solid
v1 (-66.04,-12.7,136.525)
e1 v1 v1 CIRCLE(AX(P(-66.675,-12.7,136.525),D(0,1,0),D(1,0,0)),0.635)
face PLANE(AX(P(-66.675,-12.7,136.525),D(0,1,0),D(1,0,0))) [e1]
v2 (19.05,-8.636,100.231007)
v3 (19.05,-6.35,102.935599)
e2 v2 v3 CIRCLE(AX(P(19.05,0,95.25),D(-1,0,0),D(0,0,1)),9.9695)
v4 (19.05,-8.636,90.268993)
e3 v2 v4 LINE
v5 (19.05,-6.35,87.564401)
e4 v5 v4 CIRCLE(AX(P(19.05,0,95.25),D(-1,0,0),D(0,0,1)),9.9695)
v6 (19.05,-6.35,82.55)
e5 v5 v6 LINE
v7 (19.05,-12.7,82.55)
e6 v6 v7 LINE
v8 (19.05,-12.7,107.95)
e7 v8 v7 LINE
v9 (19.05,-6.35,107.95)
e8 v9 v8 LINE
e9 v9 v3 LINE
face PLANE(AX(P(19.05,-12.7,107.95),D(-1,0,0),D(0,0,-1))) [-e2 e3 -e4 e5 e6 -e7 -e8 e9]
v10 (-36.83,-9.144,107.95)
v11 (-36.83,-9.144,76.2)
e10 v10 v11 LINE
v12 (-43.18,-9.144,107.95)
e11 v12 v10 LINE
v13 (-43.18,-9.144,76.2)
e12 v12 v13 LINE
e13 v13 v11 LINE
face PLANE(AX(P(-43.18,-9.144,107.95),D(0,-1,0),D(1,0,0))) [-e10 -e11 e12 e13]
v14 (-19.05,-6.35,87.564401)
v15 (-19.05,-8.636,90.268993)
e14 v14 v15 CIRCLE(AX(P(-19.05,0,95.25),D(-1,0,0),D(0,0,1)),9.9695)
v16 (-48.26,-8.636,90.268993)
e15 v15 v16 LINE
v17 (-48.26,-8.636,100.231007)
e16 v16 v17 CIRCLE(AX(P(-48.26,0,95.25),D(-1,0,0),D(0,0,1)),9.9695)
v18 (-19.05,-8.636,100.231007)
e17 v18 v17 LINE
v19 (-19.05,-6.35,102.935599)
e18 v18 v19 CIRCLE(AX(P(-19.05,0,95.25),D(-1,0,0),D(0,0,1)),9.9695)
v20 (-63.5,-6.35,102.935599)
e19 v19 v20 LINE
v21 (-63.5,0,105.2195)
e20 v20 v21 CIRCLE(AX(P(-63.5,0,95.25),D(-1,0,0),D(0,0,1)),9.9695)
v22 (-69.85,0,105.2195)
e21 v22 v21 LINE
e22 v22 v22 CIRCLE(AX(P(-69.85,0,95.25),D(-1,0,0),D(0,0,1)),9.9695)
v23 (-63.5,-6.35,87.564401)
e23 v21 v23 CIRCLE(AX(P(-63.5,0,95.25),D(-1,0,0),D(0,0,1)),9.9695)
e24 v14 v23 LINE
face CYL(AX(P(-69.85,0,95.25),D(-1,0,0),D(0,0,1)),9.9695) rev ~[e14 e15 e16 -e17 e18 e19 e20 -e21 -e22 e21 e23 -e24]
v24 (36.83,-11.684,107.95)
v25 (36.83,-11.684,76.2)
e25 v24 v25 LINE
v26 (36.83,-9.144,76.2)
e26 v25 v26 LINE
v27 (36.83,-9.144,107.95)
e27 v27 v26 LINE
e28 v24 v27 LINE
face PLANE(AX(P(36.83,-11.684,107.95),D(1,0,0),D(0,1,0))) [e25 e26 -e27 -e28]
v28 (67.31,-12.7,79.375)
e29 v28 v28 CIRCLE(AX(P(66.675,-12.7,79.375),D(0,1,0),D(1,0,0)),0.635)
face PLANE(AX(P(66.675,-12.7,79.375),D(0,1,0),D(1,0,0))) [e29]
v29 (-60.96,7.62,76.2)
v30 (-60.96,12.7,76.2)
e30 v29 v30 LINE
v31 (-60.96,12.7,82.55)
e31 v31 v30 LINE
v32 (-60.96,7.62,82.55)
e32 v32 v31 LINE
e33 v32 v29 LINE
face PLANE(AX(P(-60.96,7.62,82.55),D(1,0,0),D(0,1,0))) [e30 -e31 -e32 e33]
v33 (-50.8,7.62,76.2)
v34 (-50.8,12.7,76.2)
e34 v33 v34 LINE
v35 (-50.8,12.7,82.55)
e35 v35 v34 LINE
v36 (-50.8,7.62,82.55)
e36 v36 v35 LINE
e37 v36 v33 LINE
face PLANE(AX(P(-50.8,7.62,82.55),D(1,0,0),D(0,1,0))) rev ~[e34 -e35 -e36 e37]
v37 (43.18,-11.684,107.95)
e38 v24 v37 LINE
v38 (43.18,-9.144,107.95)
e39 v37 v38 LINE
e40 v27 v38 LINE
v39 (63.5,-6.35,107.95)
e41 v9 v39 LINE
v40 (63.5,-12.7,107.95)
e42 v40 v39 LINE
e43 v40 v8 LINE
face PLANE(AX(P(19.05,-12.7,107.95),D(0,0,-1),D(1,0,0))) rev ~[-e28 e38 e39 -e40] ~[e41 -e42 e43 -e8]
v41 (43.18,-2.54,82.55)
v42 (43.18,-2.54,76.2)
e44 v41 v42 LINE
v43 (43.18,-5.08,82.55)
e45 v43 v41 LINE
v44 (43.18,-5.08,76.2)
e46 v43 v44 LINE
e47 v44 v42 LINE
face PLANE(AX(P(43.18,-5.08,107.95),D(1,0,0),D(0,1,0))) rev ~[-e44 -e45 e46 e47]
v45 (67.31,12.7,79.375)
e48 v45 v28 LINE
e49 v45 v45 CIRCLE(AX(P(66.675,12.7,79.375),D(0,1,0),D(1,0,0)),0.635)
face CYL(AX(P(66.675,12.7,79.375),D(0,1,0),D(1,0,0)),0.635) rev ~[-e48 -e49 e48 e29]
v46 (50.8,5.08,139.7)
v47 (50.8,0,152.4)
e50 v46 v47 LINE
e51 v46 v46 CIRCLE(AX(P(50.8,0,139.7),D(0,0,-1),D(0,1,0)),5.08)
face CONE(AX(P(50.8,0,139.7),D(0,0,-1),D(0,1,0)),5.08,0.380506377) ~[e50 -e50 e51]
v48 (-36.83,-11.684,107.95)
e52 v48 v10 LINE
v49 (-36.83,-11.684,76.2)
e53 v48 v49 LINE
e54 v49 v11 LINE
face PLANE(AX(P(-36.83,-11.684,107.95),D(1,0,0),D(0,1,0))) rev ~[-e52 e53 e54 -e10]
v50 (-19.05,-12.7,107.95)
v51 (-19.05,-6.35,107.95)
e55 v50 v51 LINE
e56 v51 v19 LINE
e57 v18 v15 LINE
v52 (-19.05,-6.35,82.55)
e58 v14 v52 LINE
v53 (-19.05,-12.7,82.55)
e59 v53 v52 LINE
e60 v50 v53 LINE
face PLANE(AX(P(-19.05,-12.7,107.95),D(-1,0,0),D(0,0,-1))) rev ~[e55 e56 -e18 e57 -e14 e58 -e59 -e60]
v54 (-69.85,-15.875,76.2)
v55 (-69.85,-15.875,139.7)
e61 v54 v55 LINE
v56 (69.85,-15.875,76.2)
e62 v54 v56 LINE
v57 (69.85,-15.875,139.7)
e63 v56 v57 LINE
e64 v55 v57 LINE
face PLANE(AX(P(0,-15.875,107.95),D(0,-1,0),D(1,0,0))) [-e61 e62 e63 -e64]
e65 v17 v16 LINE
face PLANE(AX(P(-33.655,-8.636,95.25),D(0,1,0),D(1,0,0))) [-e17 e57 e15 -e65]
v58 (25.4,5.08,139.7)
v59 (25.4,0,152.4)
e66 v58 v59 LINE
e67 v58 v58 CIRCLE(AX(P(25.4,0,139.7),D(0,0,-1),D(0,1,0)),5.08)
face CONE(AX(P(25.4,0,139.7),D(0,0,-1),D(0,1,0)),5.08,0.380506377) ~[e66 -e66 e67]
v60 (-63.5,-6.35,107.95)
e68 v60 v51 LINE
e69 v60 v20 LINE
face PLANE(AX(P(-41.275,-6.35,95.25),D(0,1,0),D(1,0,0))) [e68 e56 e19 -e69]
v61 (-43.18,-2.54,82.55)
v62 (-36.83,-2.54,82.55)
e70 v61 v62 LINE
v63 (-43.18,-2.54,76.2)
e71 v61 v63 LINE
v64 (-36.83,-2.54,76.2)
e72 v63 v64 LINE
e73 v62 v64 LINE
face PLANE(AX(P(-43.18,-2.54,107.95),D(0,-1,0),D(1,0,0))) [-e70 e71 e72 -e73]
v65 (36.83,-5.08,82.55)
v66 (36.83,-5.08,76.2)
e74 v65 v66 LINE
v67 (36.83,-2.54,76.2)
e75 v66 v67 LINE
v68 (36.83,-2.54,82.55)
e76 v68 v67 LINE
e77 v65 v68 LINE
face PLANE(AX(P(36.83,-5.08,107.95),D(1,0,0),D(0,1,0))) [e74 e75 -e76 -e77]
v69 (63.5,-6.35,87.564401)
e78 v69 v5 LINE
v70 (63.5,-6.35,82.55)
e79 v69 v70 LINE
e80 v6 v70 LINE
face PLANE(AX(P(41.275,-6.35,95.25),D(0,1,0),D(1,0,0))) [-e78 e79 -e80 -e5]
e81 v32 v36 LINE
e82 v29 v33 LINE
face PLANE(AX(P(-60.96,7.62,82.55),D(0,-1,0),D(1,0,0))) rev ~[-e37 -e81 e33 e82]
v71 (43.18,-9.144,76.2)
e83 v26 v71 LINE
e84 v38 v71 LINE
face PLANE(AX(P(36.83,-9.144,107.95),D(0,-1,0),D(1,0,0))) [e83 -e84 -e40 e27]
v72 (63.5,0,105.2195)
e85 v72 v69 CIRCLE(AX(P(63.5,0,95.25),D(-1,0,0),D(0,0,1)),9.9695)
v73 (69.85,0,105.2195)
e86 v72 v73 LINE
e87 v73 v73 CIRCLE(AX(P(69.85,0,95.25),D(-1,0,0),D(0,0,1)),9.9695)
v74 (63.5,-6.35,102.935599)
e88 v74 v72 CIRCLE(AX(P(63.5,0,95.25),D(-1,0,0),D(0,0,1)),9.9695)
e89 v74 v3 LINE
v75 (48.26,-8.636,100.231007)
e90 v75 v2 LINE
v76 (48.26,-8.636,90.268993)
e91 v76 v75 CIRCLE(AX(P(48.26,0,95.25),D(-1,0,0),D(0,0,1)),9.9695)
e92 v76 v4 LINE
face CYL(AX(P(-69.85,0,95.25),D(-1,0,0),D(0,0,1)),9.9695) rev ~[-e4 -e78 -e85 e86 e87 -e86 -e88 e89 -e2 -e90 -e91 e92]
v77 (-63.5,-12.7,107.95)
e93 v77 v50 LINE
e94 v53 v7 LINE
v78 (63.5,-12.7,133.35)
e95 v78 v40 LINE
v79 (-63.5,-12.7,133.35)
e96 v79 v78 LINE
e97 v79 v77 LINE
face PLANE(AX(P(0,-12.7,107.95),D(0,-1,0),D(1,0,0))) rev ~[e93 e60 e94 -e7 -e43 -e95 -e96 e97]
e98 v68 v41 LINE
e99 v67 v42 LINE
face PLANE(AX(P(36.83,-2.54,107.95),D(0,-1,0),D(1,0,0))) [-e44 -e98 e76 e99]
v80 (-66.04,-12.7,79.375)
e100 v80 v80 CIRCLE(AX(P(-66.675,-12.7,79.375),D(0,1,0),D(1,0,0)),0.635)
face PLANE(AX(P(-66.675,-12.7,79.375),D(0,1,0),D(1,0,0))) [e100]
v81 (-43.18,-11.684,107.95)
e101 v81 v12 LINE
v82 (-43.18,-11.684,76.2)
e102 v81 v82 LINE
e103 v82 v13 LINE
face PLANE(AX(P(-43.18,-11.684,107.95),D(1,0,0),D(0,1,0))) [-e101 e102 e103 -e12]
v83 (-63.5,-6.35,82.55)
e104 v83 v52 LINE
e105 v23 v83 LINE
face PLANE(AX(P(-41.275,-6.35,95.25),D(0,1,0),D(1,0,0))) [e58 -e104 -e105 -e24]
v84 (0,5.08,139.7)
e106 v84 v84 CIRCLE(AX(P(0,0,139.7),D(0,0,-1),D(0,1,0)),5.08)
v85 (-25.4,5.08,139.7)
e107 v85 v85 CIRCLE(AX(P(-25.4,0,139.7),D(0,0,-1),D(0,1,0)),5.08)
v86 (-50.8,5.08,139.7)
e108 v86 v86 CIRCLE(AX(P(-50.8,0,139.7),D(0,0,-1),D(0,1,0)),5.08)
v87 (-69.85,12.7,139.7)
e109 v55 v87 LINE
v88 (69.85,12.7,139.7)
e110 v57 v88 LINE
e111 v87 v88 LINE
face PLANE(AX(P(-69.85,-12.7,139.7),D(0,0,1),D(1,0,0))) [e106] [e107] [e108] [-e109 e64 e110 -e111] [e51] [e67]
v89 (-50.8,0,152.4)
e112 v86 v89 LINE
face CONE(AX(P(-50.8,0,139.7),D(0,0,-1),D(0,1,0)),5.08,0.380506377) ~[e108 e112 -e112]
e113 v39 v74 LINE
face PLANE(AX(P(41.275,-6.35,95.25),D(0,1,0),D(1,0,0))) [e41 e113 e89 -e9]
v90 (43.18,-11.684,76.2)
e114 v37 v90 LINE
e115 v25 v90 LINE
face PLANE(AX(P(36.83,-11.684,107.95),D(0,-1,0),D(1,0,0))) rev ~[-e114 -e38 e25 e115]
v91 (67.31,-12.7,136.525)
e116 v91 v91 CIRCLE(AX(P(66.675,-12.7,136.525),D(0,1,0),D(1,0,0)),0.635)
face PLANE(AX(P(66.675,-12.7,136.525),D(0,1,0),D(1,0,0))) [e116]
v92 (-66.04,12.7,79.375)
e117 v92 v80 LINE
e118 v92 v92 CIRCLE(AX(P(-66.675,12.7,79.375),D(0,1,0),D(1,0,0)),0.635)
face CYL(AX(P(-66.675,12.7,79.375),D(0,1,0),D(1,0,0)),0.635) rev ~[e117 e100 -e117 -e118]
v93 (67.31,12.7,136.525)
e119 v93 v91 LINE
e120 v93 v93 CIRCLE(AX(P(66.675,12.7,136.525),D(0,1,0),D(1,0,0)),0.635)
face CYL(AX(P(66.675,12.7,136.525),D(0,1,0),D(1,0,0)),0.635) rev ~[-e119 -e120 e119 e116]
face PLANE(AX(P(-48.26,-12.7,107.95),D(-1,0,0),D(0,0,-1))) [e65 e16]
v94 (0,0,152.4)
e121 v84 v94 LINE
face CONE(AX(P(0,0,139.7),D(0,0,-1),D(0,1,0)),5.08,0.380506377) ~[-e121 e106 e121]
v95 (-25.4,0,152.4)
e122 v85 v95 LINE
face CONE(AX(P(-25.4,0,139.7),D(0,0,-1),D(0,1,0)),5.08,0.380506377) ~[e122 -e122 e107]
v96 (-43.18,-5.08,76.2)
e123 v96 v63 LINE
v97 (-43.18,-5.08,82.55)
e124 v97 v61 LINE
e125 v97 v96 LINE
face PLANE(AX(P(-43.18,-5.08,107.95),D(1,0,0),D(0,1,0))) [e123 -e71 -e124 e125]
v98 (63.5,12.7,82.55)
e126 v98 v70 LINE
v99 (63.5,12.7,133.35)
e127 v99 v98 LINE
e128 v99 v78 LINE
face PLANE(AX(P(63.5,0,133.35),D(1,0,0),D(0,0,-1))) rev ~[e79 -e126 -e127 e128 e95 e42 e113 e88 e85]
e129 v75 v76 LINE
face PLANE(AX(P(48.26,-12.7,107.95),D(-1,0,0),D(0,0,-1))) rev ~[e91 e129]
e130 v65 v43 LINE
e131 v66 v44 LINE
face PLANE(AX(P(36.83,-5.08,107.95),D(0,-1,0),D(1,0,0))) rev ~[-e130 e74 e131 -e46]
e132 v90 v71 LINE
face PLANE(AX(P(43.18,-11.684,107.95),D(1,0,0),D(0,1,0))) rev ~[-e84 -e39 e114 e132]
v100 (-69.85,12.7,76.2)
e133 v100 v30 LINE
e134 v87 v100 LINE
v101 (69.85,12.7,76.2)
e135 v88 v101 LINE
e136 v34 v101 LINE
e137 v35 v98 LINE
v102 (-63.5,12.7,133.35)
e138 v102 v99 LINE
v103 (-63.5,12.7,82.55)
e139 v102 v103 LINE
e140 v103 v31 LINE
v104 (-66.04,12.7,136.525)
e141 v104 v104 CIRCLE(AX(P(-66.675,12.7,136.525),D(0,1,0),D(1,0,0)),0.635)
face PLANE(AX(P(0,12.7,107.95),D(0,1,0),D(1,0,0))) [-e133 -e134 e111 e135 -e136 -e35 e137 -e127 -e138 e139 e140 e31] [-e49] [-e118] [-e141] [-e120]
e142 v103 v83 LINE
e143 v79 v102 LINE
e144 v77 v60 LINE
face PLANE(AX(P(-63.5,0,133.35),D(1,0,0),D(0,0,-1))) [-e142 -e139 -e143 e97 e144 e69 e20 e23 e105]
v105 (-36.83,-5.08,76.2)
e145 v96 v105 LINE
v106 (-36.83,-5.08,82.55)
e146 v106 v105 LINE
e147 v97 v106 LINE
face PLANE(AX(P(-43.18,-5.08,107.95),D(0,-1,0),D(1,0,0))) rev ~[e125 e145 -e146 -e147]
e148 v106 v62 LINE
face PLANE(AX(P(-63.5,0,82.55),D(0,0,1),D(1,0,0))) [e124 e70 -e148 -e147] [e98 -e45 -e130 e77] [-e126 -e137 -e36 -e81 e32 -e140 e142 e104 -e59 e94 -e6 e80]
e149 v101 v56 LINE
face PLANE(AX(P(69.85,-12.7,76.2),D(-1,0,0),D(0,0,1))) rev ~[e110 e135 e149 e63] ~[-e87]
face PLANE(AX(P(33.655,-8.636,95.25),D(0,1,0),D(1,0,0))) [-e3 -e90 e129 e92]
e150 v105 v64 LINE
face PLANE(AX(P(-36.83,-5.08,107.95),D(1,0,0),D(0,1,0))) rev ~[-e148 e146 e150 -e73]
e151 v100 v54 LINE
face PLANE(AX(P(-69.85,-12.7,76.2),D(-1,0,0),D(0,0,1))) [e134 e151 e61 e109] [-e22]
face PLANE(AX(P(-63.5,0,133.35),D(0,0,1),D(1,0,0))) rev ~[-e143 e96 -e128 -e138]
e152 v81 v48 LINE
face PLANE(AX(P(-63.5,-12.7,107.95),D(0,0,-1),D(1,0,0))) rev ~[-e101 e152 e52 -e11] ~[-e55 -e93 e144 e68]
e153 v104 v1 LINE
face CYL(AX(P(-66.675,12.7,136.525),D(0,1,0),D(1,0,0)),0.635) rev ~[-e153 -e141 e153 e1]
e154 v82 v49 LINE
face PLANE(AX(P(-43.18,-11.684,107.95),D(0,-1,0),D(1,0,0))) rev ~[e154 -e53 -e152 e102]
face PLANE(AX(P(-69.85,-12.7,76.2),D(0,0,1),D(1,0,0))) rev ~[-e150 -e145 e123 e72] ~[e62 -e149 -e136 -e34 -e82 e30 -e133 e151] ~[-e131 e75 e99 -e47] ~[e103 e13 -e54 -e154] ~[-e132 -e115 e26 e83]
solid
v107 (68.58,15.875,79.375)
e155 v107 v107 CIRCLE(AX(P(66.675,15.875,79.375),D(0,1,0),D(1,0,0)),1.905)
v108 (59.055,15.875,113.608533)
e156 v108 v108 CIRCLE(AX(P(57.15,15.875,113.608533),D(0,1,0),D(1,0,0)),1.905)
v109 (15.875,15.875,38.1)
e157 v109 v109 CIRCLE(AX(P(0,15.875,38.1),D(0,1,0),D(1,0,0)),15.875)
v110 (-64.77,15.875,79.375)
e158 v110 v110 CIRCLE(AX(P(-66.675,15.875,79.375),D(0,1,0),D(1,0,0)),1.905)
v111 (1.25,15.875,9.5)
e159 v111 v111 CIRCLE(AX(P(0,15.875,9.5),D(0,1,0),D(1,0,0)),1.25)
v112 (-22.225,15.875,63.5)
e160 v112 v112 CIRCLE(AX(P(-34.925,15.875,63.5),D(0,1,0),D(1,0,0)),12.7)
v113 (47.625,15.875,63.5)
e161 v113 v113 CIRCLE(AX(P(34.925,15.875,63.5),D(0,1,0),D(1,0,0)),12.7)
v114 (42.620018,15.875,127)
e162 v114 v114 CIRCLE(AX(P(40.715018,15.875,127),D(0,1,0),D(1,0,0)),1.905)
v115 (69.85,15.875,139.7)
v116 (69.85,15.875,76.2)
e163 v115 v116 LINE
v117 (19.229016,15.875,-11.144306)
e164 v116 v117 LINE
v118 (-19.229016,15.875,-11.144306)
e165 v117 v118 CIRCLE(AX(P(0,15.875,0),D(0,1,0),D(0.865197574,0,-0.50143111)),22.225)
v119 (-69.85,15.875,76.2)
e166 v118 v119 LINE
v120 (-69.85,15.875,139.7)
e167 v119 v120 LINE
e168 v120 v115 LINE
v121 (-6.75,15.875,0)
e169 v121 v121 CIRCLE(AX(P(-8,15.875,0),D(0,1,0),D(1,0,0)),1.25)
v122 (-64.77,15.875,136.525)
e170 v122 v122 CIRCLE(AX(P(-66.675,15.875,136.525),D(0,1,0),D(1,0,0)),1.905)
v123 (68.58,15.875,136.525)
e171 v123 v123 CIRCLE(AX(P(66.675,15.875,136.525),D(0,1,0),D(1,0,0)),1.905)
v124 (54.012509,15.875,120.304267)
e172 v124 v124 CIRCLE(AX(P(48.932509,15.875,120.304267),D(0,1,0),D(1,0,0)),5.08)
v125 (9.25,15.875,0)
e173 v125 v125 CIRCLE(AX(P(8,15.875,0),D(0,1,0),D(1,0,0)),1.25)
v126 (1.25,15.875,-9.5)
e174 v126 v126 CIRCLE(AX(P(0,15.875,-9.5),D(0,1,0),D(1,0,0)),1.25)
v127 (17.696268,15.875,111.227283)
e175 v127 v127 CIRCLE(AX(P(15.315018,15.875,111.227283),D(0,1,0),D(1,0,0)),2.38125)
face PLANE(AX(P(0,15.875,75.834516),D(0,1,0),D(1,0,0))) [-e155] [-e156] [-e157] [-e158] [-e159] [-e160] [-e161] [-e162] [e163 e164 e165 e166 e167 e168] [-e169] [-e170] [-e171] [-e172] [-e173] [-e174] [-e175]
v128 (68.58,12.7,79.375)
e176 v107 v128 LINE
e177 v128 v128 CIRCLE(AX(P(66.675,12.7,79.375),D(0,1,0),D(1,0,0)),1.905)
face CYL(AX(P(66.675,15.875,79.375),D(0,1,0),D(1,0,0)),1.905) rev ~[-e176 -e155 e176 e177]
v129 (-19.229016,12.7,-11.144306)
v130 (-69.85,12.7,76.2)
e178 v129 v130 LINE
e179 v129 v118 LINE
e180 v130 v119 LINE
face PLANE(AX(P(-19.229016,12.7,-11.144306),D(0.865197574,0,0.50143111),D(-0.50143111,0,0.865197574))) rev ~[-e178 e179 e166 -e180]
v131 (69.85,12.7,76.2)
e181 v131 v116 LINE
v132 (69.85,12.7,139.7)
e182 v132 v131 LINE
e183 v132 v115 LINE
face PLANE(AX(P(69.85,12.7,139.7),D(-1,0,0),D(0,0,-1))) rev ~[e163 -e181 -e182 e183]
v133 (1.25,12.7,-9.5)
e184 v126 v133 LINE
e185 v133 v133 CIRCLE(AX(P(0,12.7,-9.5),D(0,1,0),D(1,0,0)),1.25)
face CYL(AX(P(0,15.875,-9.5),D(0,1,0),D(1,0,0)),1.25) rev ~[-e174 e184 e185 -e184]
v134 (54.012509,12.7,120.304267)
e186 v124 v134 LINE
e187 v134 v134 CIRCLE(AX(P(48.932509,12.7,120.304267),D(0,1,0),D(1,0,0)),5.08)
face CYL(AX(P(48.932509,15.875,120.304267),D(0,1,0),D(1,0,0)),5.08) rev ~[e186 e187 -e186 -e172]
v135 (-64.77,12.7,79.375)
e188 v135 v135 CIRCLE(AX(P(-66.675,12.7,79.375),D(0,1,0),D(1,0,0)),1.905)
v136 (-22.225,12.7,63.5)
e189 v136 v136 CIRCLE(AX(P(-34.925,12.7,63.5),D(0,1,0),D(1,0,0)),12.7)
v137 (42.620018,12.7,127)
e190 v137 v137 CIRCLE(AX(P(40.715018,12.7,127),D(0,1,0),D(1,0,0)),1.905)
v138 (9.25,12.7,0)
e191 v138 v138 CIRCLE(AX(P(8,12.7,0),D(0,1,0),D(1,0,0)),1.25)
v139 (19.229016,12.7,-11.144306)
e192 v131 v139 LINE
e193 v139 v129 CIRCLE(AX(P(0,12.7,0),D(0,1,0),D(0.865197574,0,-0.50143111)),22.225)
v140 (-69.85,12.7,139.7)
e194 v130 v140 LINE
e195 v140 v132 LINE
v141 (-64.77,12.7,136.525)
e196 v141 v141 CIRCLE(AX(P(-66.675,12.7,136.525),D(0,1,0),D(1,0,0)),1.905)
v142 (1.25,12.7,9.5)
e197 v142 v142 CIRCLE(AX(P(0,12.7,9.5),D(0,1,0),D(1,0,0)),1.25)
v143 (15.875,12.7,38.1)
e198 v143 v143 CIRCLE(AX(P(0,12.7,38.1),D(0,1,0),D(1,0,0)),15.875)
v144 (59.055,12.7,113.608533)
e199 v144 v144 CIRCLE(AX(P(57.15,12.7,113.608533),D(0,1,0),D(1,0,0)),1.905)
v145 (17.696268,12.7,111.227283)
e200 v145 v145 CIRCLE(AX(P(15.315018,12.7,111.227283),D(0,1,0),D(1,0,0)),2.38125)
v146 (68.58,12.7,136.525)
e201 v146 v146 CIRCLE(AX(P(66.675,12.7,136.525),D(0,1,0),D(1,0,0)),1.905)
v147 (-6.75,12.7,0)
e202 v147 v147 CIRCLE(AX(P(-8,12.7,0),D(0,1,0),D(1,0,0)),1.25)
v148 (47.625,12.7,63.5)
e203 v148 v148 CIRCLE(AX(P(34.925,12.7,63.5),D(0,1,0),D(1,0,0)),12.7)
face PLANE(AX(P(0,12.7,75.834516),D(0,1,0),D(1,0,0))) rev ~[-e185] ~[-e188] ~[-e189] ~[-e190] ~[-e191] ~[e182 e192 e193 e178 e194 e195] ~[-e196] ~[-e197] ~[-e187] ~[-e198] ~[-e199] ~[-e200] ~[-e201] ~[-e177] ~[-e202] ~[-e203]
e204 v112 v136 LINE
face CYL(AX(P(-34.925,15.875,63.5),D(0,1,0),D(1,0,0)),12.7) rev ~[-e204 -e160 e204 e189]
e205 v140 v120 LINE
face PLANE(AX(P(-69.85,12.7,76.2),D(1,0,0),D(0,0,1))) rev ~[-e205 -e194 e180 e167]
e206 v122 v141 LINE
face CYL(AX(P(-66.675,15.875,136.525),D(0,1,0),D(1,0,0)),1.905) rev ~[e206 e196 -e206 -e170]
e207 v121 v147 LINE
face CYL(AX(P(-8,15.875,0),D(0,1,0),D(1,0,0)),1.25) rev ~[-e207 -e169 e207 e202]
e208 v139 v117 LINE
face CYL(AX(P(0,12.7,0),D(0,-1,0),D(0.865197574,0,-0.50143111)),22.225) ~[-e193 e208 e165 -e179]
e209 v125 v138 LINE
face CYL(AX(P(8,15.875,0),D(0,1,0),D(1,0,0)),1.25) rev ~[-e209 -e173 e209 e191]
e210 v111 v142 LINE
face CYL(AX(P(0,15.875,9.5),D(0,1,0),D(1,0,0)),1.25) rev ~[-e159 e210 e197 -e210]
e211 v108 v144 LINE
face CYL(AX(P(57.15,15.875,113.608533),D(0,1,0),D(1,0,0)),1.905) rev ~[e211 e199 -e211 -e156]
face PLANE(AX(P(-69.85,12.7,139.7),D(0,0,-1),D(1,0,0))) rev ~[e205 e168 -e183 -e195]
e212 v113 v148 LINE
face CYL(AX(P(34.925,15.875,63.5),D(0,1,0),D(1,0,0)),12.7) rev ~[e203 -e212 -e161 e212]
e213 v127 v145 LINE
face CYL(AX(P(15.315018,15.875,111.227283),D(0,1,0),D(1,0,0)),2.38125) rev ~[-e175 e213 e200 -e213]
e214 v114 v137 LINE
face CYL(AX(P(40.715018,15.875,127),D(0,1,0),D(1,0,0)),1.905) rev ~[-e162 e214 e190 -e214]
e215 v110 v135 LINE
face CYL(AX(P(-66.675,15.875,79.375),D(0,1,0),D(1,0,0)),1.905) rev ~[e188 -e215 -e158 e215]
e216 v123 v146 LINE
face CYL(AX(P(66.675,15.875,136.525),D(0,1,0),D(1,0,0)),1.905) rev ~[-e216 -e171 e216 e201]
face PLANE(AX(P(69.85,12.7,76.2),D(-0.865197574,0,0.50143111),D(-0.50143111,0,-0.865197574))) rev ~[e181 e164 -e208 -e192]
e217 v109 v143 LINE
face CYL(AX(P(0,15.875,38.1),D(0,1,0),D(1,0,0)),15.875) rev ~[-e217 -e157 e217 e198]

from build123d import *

# Parameters (mm, degrees)
SKETCH3_W                = 139.7
SKETCH3_H                = 63.5
SKETCH3_W_2              = 127
SKETCH3_H_2              = 50.8
BOSS_EXTRUDE1_DEPTH      = 12.7
BOSS_EXTRUDE1_DEPTH_BACK = 12.7
SKETCH4_W                = 139.7
SKETCH4_H                = 63.5
BOSS_EXTRUDE2_DEPTH      = 3.175
BOSS_EXTRUDE3_DEPTH      = 3.175
SKETCH7_W                = 44.45
SKETCH7_H                = 25.4
BOSS_EXTRUDE4_DEPTH      = 6.35
SKETCH6_R                = 9.9695
CUT_EXTRUDE1_DEPTH       = 140.7
LPATTERN1_COUNT          = 3
LPATTERN1_PITCH          = 25.4
LPATTERN1_COL_COUNT      = 3
LPATTERN1_COL_PITCH      = 25.4
SKETCH13_W               = 29.21
SKETCH13_H               = 25.4
BOSS_EXTRUDE5_DEPTH      = 4.064
SKETCH14_W               = 6.35
SKETCH14_H               = 2.54
CUT_EXTRUDE2_DEPTH       = 31.75
SKETCH18_W               = 10.16
SKETCH18_H               = 5.08
CUT_EXTRUDE3_DEPTH       = 6.35
SKETCH19_R               = 0.635
CUT_EXTRUDE4_DEPTH       = 25.4
SKETCH20_R               = 1.905
CUT_EXTRUDE7_DEPTH       = 3.175
SKETCH23_R               = 5.08
SKETCH23_R_2             = 1.905
SKETCH23_R_3             = 2.38125
CUT_EXTRUDE8_DEPTH       = 3.175
SKETCH24_R               = 1.25
CUT_EXTRUDE9_DEPTH       = 3.175
SKETCH25_R               = 15.875
SKETCH25_R_2             = 12.7
CUT_EXTRUDE10_DEPTH      = 32.75


with BuildPart() as part:
    # Sketch3 → Boss-Extrude1 (new body, two sides)
    with BuildSketch(Plane(origin=(0, 0, 0), x_dir=(1, 0, 0), z_dir=(0, 1, 0))) as boss_extrude1_sk:
        with Locations((0, -107.95)):
            Rectangle(SKETCH3_W, SKETCH3_H)
        with Locations((0, -107.95)):
            Rectangle(SKETCH3_W_2, SKETCH3_H_2, mode=Mode.SUBTRACT)
    extrude(amount=BOSS_EXTRUDE1_DEPTH)
    extrude(boss_extrude1_sk.sketch, amount=-BOSS_EXTRUDE1_DEPTH_BACK)

    # Sketch4 → Boss-Extrude2 (add)
    with BuildSketch(Plane.XZ.offset(12.7)):
        with Locations((0, 107.95)):
            Rectangle(SKETCH4_W, SKETCH4_H)
    extrude(amount=BOSS_EXTRUDE2_DEPTH)

    # Sketch7 → Boss-Extrude4 (add)
    with BuildSketch(Plane(origin=(0, -12.7, 0), x_dir=(1, 0, 0), z_dir=(0, 1, 0))):
        with Locations((-41.275, -95.25)):
            Rectangle(SKETCH7_W, SKETCH7_H)
        with Locations((41.275, -95.25)):
            Rectangle(SKETCH7_W, SKETCH7_H)
    extrude(amount=BOSS_EXTRUDE4_DEPTH)

    # Sketch6 → Cut-Extrude1 (cut, through all)
    with BuildSketch(Plane.ZY.offset(69.85)):
        with Locations((95.25, 0)):
            Circle(SKETCH6_R)
    extrude(amount=-CUT_EXTRUDE1_DEPTH, mode=Mode.SUBTRACT)

    # Sketch9 → Revolve1 (revolve)
    with BuildSketch(Plane(origin=(0, 0, 0), x_dir=(0, 0, -1), z_dir=(1, 0, 0))):
        Polygon((-139.7, 0), (-139.7, 5.08), (-152.4, 0), align=None)
    revolve1 = revolve(axis=Axis((0, 0, 152.4), (0, 0, -1)))

    # LPattern1: Revolve1 ×3
    with Locations(*[(-i * LPATTERN1_PITCH, 0, 0) for i in range(1, LPATTERN1_COUNT)]):
        add(revolve1)

    # LPattern1 col: Revolve1 ×3
    with Locations(*[(i * LPATTERN1_COL_PITCH, 0, 0) for i in range(1, LPATTERN1_COL_COUNT)]):
        add(revolve1)

    # Sketch13 → Boss-Extrude5 (add)
    with BuildSketch(Plane(origin=(0, -12.7, 0), x_dir=(1, 0, 0), z_dir=(0, 1, 0))):
        with Locations((-33.655, -95.25)):
            Rectangle(SKETCH13_W, SKETCH13_H)
        with Locations((33.655, -95.25)):
            Rectangle(SKETCH13_W, SKETCH13_H)
    extrude(amount=BOSS_EXTRUDE5_DEPTH)

    # Sketch14 → Cut-Extrude2 (cut)
    with BuildSketch(Plane.XY.offset(107.95)):
        with Locations((-40.005, -10.414)):
            Rectangle(SKETCH14_W, SKETCH14_H)
        with Locations((-40.005, -3.81)):
            Rectangle(SKETCH14_W, SKETCH14_H)
        with Locations((40.005, -10.414)):
            Rectangle(SKETCH14_W, SKETCH14_H)
        with Locations((40.005, -3.81)):
            Rectangle(SKETCH14_W, SKETCH14_H)
    extrude(amount=-CUT_EXTRUDE2_DEPTH, mode=Mode.SUBTRACT)

    # Sketch18 → Cut-Extrude3 (cut)
    with BuildSketch(Plane.XY.offset(82.55)):
        with Locations((-55.88, 10.16)):
            Rectangle(SKETCH18_W, SKETCH18_H)
    extrude(amount=-CUT_EXTRUDE3_DEPTH, mode=Mode.SUBTRACT)

    # Sketch19 → Cut-Extrude4 (cut)
    with BuildSketch(Plane(origin=(0, 12.7, 0), x_dir=(1, 0, 0), z_dir=(0, 1, 0))):
        with Locations((-66.675, -79.375)):
            Circle(SKETCH19_R)
        with Locations((66.675, -79.375)):
            Circle(SKETCH19_R)
        with Locations((-66.675, -136.525)):
            Circle(SKETCH19_R)
        with Locations((66.675, -136.525)):
            Circle(SKETCH19_R)
    extrude(amount=-CUT_EXTRUDE4_DEPTH, mode=Mode.SUBTRACT)


with BuildPart() as body_2:
    # Sketch5 → Boss-Extrude3 (new body)
    with BuildSketch(Plane(origin=(0, 12.7, 0), x_dir=(1, 0, 0), z_dir=(0, 1, 0))):
        with BuildLine():
            Line((-19.229016085, 11.144306411), (-69.85, -76.2))
            Line((-69.85, -76.2), (-69.85, -139.7))
            Line((-69.85, -139.7), (69.85, -139.7))
            Line((69.85, -139.7), (69.85, -76.2))
            Line((69.85, -76.2), (19.229016085, 11.144306411))
            ThreePointArc((19.229016085, 11.144306411), (0, 22.225), (-19.229016085, 11.144306411))
        make_face()
    extrude(amount=BOSS_EXTRUDE3_DEPTH)

    # Sketch20 → Cut-Extrude7 (cut)
    with BuildSketch(Plane(origin=(0, 15.875, 0), x_dir=(1, 0, 0), z_dir=(0, 1, 0))):
        with Locations((-66.675, -79.375)):
            Circle(SKETCH20_R)
        with Locations((-66.675, -136.525)):
            Circle(SKETCH20_R)
        with Locations((66.675, -136.525)):
            Circle(SKETCH20_R)
        with Locations((66.675, -79.375)):
            Circle(SKETCH20_R)
    extrude(amount=-CUT_EXTRUDE7_DEPTH, mode=Mode.SUBTRACT)

    # Sketch23 → Cut-Extrude8 (cut)
    with BuildSketch(Plane(origin=(0, 15.875, 0), x_dir=(1, 0, 0), z_dir=(0, 1, 0))):
        with Locations((48.932509154, -120.304266718)):
            Circle(SKETCH23_R)
        with Locations((57.15, -113.608533435)):
            Circle(SKETCH23_R_2)
        with Locations((40.715018307, -127)):
            Circle(SKETCH23_R_2)
        with Locations((15.315018307, -111.227283435)):
            Circle(SKETCH23_R_3)
    extrude(amount=-CUT_EXTRUDE8_DEPTH, mode=Mode.SUBTRACT)

    # Sketch24 → Cut-Extrude9 (cut)
    with BuildSketch(Plane(origin=(0, 15.875, 0), x_dir=(1, 0, 0), z_dir=(0, 1, 0))):
        with Locations((0, 9.5)):
            Circle(SKETCH24_R)
        with Locations((0, -9.5)):
            Circle(SKETCH24_R)
        with Locations((-8, 0)):
            Circle(SKETCH24_R)
        with Locations((8, 0)):
            Circle(SKETCH24_R)
    extrude(amount=-CUT_EXTRUDE9_DEPTH, mode=Mode.SUBTRACT)

    # Sketch25 → Cut-Extrude10 (cut, through all)
    with BuildSketch(Plane(origin=(0, 15.875, 0), x_dir=(1, 0, 0), z_dir=(0, 1, 0))):
        with Locations((0, -38.1)):
            Circle(SKETCH25_R)
        with Locations((-34.925, -63.5)):
            Circle(SKETCH25_R_2)
        with Locations((34.925, -63.5)):
            Circle(SKETCH25_R_2)
    extrude(amount=-CUT_EXTRUDE10_DEPTH, mode=Mode.SUBTRACT)


solid = Compound([part.part, body_2.part])
